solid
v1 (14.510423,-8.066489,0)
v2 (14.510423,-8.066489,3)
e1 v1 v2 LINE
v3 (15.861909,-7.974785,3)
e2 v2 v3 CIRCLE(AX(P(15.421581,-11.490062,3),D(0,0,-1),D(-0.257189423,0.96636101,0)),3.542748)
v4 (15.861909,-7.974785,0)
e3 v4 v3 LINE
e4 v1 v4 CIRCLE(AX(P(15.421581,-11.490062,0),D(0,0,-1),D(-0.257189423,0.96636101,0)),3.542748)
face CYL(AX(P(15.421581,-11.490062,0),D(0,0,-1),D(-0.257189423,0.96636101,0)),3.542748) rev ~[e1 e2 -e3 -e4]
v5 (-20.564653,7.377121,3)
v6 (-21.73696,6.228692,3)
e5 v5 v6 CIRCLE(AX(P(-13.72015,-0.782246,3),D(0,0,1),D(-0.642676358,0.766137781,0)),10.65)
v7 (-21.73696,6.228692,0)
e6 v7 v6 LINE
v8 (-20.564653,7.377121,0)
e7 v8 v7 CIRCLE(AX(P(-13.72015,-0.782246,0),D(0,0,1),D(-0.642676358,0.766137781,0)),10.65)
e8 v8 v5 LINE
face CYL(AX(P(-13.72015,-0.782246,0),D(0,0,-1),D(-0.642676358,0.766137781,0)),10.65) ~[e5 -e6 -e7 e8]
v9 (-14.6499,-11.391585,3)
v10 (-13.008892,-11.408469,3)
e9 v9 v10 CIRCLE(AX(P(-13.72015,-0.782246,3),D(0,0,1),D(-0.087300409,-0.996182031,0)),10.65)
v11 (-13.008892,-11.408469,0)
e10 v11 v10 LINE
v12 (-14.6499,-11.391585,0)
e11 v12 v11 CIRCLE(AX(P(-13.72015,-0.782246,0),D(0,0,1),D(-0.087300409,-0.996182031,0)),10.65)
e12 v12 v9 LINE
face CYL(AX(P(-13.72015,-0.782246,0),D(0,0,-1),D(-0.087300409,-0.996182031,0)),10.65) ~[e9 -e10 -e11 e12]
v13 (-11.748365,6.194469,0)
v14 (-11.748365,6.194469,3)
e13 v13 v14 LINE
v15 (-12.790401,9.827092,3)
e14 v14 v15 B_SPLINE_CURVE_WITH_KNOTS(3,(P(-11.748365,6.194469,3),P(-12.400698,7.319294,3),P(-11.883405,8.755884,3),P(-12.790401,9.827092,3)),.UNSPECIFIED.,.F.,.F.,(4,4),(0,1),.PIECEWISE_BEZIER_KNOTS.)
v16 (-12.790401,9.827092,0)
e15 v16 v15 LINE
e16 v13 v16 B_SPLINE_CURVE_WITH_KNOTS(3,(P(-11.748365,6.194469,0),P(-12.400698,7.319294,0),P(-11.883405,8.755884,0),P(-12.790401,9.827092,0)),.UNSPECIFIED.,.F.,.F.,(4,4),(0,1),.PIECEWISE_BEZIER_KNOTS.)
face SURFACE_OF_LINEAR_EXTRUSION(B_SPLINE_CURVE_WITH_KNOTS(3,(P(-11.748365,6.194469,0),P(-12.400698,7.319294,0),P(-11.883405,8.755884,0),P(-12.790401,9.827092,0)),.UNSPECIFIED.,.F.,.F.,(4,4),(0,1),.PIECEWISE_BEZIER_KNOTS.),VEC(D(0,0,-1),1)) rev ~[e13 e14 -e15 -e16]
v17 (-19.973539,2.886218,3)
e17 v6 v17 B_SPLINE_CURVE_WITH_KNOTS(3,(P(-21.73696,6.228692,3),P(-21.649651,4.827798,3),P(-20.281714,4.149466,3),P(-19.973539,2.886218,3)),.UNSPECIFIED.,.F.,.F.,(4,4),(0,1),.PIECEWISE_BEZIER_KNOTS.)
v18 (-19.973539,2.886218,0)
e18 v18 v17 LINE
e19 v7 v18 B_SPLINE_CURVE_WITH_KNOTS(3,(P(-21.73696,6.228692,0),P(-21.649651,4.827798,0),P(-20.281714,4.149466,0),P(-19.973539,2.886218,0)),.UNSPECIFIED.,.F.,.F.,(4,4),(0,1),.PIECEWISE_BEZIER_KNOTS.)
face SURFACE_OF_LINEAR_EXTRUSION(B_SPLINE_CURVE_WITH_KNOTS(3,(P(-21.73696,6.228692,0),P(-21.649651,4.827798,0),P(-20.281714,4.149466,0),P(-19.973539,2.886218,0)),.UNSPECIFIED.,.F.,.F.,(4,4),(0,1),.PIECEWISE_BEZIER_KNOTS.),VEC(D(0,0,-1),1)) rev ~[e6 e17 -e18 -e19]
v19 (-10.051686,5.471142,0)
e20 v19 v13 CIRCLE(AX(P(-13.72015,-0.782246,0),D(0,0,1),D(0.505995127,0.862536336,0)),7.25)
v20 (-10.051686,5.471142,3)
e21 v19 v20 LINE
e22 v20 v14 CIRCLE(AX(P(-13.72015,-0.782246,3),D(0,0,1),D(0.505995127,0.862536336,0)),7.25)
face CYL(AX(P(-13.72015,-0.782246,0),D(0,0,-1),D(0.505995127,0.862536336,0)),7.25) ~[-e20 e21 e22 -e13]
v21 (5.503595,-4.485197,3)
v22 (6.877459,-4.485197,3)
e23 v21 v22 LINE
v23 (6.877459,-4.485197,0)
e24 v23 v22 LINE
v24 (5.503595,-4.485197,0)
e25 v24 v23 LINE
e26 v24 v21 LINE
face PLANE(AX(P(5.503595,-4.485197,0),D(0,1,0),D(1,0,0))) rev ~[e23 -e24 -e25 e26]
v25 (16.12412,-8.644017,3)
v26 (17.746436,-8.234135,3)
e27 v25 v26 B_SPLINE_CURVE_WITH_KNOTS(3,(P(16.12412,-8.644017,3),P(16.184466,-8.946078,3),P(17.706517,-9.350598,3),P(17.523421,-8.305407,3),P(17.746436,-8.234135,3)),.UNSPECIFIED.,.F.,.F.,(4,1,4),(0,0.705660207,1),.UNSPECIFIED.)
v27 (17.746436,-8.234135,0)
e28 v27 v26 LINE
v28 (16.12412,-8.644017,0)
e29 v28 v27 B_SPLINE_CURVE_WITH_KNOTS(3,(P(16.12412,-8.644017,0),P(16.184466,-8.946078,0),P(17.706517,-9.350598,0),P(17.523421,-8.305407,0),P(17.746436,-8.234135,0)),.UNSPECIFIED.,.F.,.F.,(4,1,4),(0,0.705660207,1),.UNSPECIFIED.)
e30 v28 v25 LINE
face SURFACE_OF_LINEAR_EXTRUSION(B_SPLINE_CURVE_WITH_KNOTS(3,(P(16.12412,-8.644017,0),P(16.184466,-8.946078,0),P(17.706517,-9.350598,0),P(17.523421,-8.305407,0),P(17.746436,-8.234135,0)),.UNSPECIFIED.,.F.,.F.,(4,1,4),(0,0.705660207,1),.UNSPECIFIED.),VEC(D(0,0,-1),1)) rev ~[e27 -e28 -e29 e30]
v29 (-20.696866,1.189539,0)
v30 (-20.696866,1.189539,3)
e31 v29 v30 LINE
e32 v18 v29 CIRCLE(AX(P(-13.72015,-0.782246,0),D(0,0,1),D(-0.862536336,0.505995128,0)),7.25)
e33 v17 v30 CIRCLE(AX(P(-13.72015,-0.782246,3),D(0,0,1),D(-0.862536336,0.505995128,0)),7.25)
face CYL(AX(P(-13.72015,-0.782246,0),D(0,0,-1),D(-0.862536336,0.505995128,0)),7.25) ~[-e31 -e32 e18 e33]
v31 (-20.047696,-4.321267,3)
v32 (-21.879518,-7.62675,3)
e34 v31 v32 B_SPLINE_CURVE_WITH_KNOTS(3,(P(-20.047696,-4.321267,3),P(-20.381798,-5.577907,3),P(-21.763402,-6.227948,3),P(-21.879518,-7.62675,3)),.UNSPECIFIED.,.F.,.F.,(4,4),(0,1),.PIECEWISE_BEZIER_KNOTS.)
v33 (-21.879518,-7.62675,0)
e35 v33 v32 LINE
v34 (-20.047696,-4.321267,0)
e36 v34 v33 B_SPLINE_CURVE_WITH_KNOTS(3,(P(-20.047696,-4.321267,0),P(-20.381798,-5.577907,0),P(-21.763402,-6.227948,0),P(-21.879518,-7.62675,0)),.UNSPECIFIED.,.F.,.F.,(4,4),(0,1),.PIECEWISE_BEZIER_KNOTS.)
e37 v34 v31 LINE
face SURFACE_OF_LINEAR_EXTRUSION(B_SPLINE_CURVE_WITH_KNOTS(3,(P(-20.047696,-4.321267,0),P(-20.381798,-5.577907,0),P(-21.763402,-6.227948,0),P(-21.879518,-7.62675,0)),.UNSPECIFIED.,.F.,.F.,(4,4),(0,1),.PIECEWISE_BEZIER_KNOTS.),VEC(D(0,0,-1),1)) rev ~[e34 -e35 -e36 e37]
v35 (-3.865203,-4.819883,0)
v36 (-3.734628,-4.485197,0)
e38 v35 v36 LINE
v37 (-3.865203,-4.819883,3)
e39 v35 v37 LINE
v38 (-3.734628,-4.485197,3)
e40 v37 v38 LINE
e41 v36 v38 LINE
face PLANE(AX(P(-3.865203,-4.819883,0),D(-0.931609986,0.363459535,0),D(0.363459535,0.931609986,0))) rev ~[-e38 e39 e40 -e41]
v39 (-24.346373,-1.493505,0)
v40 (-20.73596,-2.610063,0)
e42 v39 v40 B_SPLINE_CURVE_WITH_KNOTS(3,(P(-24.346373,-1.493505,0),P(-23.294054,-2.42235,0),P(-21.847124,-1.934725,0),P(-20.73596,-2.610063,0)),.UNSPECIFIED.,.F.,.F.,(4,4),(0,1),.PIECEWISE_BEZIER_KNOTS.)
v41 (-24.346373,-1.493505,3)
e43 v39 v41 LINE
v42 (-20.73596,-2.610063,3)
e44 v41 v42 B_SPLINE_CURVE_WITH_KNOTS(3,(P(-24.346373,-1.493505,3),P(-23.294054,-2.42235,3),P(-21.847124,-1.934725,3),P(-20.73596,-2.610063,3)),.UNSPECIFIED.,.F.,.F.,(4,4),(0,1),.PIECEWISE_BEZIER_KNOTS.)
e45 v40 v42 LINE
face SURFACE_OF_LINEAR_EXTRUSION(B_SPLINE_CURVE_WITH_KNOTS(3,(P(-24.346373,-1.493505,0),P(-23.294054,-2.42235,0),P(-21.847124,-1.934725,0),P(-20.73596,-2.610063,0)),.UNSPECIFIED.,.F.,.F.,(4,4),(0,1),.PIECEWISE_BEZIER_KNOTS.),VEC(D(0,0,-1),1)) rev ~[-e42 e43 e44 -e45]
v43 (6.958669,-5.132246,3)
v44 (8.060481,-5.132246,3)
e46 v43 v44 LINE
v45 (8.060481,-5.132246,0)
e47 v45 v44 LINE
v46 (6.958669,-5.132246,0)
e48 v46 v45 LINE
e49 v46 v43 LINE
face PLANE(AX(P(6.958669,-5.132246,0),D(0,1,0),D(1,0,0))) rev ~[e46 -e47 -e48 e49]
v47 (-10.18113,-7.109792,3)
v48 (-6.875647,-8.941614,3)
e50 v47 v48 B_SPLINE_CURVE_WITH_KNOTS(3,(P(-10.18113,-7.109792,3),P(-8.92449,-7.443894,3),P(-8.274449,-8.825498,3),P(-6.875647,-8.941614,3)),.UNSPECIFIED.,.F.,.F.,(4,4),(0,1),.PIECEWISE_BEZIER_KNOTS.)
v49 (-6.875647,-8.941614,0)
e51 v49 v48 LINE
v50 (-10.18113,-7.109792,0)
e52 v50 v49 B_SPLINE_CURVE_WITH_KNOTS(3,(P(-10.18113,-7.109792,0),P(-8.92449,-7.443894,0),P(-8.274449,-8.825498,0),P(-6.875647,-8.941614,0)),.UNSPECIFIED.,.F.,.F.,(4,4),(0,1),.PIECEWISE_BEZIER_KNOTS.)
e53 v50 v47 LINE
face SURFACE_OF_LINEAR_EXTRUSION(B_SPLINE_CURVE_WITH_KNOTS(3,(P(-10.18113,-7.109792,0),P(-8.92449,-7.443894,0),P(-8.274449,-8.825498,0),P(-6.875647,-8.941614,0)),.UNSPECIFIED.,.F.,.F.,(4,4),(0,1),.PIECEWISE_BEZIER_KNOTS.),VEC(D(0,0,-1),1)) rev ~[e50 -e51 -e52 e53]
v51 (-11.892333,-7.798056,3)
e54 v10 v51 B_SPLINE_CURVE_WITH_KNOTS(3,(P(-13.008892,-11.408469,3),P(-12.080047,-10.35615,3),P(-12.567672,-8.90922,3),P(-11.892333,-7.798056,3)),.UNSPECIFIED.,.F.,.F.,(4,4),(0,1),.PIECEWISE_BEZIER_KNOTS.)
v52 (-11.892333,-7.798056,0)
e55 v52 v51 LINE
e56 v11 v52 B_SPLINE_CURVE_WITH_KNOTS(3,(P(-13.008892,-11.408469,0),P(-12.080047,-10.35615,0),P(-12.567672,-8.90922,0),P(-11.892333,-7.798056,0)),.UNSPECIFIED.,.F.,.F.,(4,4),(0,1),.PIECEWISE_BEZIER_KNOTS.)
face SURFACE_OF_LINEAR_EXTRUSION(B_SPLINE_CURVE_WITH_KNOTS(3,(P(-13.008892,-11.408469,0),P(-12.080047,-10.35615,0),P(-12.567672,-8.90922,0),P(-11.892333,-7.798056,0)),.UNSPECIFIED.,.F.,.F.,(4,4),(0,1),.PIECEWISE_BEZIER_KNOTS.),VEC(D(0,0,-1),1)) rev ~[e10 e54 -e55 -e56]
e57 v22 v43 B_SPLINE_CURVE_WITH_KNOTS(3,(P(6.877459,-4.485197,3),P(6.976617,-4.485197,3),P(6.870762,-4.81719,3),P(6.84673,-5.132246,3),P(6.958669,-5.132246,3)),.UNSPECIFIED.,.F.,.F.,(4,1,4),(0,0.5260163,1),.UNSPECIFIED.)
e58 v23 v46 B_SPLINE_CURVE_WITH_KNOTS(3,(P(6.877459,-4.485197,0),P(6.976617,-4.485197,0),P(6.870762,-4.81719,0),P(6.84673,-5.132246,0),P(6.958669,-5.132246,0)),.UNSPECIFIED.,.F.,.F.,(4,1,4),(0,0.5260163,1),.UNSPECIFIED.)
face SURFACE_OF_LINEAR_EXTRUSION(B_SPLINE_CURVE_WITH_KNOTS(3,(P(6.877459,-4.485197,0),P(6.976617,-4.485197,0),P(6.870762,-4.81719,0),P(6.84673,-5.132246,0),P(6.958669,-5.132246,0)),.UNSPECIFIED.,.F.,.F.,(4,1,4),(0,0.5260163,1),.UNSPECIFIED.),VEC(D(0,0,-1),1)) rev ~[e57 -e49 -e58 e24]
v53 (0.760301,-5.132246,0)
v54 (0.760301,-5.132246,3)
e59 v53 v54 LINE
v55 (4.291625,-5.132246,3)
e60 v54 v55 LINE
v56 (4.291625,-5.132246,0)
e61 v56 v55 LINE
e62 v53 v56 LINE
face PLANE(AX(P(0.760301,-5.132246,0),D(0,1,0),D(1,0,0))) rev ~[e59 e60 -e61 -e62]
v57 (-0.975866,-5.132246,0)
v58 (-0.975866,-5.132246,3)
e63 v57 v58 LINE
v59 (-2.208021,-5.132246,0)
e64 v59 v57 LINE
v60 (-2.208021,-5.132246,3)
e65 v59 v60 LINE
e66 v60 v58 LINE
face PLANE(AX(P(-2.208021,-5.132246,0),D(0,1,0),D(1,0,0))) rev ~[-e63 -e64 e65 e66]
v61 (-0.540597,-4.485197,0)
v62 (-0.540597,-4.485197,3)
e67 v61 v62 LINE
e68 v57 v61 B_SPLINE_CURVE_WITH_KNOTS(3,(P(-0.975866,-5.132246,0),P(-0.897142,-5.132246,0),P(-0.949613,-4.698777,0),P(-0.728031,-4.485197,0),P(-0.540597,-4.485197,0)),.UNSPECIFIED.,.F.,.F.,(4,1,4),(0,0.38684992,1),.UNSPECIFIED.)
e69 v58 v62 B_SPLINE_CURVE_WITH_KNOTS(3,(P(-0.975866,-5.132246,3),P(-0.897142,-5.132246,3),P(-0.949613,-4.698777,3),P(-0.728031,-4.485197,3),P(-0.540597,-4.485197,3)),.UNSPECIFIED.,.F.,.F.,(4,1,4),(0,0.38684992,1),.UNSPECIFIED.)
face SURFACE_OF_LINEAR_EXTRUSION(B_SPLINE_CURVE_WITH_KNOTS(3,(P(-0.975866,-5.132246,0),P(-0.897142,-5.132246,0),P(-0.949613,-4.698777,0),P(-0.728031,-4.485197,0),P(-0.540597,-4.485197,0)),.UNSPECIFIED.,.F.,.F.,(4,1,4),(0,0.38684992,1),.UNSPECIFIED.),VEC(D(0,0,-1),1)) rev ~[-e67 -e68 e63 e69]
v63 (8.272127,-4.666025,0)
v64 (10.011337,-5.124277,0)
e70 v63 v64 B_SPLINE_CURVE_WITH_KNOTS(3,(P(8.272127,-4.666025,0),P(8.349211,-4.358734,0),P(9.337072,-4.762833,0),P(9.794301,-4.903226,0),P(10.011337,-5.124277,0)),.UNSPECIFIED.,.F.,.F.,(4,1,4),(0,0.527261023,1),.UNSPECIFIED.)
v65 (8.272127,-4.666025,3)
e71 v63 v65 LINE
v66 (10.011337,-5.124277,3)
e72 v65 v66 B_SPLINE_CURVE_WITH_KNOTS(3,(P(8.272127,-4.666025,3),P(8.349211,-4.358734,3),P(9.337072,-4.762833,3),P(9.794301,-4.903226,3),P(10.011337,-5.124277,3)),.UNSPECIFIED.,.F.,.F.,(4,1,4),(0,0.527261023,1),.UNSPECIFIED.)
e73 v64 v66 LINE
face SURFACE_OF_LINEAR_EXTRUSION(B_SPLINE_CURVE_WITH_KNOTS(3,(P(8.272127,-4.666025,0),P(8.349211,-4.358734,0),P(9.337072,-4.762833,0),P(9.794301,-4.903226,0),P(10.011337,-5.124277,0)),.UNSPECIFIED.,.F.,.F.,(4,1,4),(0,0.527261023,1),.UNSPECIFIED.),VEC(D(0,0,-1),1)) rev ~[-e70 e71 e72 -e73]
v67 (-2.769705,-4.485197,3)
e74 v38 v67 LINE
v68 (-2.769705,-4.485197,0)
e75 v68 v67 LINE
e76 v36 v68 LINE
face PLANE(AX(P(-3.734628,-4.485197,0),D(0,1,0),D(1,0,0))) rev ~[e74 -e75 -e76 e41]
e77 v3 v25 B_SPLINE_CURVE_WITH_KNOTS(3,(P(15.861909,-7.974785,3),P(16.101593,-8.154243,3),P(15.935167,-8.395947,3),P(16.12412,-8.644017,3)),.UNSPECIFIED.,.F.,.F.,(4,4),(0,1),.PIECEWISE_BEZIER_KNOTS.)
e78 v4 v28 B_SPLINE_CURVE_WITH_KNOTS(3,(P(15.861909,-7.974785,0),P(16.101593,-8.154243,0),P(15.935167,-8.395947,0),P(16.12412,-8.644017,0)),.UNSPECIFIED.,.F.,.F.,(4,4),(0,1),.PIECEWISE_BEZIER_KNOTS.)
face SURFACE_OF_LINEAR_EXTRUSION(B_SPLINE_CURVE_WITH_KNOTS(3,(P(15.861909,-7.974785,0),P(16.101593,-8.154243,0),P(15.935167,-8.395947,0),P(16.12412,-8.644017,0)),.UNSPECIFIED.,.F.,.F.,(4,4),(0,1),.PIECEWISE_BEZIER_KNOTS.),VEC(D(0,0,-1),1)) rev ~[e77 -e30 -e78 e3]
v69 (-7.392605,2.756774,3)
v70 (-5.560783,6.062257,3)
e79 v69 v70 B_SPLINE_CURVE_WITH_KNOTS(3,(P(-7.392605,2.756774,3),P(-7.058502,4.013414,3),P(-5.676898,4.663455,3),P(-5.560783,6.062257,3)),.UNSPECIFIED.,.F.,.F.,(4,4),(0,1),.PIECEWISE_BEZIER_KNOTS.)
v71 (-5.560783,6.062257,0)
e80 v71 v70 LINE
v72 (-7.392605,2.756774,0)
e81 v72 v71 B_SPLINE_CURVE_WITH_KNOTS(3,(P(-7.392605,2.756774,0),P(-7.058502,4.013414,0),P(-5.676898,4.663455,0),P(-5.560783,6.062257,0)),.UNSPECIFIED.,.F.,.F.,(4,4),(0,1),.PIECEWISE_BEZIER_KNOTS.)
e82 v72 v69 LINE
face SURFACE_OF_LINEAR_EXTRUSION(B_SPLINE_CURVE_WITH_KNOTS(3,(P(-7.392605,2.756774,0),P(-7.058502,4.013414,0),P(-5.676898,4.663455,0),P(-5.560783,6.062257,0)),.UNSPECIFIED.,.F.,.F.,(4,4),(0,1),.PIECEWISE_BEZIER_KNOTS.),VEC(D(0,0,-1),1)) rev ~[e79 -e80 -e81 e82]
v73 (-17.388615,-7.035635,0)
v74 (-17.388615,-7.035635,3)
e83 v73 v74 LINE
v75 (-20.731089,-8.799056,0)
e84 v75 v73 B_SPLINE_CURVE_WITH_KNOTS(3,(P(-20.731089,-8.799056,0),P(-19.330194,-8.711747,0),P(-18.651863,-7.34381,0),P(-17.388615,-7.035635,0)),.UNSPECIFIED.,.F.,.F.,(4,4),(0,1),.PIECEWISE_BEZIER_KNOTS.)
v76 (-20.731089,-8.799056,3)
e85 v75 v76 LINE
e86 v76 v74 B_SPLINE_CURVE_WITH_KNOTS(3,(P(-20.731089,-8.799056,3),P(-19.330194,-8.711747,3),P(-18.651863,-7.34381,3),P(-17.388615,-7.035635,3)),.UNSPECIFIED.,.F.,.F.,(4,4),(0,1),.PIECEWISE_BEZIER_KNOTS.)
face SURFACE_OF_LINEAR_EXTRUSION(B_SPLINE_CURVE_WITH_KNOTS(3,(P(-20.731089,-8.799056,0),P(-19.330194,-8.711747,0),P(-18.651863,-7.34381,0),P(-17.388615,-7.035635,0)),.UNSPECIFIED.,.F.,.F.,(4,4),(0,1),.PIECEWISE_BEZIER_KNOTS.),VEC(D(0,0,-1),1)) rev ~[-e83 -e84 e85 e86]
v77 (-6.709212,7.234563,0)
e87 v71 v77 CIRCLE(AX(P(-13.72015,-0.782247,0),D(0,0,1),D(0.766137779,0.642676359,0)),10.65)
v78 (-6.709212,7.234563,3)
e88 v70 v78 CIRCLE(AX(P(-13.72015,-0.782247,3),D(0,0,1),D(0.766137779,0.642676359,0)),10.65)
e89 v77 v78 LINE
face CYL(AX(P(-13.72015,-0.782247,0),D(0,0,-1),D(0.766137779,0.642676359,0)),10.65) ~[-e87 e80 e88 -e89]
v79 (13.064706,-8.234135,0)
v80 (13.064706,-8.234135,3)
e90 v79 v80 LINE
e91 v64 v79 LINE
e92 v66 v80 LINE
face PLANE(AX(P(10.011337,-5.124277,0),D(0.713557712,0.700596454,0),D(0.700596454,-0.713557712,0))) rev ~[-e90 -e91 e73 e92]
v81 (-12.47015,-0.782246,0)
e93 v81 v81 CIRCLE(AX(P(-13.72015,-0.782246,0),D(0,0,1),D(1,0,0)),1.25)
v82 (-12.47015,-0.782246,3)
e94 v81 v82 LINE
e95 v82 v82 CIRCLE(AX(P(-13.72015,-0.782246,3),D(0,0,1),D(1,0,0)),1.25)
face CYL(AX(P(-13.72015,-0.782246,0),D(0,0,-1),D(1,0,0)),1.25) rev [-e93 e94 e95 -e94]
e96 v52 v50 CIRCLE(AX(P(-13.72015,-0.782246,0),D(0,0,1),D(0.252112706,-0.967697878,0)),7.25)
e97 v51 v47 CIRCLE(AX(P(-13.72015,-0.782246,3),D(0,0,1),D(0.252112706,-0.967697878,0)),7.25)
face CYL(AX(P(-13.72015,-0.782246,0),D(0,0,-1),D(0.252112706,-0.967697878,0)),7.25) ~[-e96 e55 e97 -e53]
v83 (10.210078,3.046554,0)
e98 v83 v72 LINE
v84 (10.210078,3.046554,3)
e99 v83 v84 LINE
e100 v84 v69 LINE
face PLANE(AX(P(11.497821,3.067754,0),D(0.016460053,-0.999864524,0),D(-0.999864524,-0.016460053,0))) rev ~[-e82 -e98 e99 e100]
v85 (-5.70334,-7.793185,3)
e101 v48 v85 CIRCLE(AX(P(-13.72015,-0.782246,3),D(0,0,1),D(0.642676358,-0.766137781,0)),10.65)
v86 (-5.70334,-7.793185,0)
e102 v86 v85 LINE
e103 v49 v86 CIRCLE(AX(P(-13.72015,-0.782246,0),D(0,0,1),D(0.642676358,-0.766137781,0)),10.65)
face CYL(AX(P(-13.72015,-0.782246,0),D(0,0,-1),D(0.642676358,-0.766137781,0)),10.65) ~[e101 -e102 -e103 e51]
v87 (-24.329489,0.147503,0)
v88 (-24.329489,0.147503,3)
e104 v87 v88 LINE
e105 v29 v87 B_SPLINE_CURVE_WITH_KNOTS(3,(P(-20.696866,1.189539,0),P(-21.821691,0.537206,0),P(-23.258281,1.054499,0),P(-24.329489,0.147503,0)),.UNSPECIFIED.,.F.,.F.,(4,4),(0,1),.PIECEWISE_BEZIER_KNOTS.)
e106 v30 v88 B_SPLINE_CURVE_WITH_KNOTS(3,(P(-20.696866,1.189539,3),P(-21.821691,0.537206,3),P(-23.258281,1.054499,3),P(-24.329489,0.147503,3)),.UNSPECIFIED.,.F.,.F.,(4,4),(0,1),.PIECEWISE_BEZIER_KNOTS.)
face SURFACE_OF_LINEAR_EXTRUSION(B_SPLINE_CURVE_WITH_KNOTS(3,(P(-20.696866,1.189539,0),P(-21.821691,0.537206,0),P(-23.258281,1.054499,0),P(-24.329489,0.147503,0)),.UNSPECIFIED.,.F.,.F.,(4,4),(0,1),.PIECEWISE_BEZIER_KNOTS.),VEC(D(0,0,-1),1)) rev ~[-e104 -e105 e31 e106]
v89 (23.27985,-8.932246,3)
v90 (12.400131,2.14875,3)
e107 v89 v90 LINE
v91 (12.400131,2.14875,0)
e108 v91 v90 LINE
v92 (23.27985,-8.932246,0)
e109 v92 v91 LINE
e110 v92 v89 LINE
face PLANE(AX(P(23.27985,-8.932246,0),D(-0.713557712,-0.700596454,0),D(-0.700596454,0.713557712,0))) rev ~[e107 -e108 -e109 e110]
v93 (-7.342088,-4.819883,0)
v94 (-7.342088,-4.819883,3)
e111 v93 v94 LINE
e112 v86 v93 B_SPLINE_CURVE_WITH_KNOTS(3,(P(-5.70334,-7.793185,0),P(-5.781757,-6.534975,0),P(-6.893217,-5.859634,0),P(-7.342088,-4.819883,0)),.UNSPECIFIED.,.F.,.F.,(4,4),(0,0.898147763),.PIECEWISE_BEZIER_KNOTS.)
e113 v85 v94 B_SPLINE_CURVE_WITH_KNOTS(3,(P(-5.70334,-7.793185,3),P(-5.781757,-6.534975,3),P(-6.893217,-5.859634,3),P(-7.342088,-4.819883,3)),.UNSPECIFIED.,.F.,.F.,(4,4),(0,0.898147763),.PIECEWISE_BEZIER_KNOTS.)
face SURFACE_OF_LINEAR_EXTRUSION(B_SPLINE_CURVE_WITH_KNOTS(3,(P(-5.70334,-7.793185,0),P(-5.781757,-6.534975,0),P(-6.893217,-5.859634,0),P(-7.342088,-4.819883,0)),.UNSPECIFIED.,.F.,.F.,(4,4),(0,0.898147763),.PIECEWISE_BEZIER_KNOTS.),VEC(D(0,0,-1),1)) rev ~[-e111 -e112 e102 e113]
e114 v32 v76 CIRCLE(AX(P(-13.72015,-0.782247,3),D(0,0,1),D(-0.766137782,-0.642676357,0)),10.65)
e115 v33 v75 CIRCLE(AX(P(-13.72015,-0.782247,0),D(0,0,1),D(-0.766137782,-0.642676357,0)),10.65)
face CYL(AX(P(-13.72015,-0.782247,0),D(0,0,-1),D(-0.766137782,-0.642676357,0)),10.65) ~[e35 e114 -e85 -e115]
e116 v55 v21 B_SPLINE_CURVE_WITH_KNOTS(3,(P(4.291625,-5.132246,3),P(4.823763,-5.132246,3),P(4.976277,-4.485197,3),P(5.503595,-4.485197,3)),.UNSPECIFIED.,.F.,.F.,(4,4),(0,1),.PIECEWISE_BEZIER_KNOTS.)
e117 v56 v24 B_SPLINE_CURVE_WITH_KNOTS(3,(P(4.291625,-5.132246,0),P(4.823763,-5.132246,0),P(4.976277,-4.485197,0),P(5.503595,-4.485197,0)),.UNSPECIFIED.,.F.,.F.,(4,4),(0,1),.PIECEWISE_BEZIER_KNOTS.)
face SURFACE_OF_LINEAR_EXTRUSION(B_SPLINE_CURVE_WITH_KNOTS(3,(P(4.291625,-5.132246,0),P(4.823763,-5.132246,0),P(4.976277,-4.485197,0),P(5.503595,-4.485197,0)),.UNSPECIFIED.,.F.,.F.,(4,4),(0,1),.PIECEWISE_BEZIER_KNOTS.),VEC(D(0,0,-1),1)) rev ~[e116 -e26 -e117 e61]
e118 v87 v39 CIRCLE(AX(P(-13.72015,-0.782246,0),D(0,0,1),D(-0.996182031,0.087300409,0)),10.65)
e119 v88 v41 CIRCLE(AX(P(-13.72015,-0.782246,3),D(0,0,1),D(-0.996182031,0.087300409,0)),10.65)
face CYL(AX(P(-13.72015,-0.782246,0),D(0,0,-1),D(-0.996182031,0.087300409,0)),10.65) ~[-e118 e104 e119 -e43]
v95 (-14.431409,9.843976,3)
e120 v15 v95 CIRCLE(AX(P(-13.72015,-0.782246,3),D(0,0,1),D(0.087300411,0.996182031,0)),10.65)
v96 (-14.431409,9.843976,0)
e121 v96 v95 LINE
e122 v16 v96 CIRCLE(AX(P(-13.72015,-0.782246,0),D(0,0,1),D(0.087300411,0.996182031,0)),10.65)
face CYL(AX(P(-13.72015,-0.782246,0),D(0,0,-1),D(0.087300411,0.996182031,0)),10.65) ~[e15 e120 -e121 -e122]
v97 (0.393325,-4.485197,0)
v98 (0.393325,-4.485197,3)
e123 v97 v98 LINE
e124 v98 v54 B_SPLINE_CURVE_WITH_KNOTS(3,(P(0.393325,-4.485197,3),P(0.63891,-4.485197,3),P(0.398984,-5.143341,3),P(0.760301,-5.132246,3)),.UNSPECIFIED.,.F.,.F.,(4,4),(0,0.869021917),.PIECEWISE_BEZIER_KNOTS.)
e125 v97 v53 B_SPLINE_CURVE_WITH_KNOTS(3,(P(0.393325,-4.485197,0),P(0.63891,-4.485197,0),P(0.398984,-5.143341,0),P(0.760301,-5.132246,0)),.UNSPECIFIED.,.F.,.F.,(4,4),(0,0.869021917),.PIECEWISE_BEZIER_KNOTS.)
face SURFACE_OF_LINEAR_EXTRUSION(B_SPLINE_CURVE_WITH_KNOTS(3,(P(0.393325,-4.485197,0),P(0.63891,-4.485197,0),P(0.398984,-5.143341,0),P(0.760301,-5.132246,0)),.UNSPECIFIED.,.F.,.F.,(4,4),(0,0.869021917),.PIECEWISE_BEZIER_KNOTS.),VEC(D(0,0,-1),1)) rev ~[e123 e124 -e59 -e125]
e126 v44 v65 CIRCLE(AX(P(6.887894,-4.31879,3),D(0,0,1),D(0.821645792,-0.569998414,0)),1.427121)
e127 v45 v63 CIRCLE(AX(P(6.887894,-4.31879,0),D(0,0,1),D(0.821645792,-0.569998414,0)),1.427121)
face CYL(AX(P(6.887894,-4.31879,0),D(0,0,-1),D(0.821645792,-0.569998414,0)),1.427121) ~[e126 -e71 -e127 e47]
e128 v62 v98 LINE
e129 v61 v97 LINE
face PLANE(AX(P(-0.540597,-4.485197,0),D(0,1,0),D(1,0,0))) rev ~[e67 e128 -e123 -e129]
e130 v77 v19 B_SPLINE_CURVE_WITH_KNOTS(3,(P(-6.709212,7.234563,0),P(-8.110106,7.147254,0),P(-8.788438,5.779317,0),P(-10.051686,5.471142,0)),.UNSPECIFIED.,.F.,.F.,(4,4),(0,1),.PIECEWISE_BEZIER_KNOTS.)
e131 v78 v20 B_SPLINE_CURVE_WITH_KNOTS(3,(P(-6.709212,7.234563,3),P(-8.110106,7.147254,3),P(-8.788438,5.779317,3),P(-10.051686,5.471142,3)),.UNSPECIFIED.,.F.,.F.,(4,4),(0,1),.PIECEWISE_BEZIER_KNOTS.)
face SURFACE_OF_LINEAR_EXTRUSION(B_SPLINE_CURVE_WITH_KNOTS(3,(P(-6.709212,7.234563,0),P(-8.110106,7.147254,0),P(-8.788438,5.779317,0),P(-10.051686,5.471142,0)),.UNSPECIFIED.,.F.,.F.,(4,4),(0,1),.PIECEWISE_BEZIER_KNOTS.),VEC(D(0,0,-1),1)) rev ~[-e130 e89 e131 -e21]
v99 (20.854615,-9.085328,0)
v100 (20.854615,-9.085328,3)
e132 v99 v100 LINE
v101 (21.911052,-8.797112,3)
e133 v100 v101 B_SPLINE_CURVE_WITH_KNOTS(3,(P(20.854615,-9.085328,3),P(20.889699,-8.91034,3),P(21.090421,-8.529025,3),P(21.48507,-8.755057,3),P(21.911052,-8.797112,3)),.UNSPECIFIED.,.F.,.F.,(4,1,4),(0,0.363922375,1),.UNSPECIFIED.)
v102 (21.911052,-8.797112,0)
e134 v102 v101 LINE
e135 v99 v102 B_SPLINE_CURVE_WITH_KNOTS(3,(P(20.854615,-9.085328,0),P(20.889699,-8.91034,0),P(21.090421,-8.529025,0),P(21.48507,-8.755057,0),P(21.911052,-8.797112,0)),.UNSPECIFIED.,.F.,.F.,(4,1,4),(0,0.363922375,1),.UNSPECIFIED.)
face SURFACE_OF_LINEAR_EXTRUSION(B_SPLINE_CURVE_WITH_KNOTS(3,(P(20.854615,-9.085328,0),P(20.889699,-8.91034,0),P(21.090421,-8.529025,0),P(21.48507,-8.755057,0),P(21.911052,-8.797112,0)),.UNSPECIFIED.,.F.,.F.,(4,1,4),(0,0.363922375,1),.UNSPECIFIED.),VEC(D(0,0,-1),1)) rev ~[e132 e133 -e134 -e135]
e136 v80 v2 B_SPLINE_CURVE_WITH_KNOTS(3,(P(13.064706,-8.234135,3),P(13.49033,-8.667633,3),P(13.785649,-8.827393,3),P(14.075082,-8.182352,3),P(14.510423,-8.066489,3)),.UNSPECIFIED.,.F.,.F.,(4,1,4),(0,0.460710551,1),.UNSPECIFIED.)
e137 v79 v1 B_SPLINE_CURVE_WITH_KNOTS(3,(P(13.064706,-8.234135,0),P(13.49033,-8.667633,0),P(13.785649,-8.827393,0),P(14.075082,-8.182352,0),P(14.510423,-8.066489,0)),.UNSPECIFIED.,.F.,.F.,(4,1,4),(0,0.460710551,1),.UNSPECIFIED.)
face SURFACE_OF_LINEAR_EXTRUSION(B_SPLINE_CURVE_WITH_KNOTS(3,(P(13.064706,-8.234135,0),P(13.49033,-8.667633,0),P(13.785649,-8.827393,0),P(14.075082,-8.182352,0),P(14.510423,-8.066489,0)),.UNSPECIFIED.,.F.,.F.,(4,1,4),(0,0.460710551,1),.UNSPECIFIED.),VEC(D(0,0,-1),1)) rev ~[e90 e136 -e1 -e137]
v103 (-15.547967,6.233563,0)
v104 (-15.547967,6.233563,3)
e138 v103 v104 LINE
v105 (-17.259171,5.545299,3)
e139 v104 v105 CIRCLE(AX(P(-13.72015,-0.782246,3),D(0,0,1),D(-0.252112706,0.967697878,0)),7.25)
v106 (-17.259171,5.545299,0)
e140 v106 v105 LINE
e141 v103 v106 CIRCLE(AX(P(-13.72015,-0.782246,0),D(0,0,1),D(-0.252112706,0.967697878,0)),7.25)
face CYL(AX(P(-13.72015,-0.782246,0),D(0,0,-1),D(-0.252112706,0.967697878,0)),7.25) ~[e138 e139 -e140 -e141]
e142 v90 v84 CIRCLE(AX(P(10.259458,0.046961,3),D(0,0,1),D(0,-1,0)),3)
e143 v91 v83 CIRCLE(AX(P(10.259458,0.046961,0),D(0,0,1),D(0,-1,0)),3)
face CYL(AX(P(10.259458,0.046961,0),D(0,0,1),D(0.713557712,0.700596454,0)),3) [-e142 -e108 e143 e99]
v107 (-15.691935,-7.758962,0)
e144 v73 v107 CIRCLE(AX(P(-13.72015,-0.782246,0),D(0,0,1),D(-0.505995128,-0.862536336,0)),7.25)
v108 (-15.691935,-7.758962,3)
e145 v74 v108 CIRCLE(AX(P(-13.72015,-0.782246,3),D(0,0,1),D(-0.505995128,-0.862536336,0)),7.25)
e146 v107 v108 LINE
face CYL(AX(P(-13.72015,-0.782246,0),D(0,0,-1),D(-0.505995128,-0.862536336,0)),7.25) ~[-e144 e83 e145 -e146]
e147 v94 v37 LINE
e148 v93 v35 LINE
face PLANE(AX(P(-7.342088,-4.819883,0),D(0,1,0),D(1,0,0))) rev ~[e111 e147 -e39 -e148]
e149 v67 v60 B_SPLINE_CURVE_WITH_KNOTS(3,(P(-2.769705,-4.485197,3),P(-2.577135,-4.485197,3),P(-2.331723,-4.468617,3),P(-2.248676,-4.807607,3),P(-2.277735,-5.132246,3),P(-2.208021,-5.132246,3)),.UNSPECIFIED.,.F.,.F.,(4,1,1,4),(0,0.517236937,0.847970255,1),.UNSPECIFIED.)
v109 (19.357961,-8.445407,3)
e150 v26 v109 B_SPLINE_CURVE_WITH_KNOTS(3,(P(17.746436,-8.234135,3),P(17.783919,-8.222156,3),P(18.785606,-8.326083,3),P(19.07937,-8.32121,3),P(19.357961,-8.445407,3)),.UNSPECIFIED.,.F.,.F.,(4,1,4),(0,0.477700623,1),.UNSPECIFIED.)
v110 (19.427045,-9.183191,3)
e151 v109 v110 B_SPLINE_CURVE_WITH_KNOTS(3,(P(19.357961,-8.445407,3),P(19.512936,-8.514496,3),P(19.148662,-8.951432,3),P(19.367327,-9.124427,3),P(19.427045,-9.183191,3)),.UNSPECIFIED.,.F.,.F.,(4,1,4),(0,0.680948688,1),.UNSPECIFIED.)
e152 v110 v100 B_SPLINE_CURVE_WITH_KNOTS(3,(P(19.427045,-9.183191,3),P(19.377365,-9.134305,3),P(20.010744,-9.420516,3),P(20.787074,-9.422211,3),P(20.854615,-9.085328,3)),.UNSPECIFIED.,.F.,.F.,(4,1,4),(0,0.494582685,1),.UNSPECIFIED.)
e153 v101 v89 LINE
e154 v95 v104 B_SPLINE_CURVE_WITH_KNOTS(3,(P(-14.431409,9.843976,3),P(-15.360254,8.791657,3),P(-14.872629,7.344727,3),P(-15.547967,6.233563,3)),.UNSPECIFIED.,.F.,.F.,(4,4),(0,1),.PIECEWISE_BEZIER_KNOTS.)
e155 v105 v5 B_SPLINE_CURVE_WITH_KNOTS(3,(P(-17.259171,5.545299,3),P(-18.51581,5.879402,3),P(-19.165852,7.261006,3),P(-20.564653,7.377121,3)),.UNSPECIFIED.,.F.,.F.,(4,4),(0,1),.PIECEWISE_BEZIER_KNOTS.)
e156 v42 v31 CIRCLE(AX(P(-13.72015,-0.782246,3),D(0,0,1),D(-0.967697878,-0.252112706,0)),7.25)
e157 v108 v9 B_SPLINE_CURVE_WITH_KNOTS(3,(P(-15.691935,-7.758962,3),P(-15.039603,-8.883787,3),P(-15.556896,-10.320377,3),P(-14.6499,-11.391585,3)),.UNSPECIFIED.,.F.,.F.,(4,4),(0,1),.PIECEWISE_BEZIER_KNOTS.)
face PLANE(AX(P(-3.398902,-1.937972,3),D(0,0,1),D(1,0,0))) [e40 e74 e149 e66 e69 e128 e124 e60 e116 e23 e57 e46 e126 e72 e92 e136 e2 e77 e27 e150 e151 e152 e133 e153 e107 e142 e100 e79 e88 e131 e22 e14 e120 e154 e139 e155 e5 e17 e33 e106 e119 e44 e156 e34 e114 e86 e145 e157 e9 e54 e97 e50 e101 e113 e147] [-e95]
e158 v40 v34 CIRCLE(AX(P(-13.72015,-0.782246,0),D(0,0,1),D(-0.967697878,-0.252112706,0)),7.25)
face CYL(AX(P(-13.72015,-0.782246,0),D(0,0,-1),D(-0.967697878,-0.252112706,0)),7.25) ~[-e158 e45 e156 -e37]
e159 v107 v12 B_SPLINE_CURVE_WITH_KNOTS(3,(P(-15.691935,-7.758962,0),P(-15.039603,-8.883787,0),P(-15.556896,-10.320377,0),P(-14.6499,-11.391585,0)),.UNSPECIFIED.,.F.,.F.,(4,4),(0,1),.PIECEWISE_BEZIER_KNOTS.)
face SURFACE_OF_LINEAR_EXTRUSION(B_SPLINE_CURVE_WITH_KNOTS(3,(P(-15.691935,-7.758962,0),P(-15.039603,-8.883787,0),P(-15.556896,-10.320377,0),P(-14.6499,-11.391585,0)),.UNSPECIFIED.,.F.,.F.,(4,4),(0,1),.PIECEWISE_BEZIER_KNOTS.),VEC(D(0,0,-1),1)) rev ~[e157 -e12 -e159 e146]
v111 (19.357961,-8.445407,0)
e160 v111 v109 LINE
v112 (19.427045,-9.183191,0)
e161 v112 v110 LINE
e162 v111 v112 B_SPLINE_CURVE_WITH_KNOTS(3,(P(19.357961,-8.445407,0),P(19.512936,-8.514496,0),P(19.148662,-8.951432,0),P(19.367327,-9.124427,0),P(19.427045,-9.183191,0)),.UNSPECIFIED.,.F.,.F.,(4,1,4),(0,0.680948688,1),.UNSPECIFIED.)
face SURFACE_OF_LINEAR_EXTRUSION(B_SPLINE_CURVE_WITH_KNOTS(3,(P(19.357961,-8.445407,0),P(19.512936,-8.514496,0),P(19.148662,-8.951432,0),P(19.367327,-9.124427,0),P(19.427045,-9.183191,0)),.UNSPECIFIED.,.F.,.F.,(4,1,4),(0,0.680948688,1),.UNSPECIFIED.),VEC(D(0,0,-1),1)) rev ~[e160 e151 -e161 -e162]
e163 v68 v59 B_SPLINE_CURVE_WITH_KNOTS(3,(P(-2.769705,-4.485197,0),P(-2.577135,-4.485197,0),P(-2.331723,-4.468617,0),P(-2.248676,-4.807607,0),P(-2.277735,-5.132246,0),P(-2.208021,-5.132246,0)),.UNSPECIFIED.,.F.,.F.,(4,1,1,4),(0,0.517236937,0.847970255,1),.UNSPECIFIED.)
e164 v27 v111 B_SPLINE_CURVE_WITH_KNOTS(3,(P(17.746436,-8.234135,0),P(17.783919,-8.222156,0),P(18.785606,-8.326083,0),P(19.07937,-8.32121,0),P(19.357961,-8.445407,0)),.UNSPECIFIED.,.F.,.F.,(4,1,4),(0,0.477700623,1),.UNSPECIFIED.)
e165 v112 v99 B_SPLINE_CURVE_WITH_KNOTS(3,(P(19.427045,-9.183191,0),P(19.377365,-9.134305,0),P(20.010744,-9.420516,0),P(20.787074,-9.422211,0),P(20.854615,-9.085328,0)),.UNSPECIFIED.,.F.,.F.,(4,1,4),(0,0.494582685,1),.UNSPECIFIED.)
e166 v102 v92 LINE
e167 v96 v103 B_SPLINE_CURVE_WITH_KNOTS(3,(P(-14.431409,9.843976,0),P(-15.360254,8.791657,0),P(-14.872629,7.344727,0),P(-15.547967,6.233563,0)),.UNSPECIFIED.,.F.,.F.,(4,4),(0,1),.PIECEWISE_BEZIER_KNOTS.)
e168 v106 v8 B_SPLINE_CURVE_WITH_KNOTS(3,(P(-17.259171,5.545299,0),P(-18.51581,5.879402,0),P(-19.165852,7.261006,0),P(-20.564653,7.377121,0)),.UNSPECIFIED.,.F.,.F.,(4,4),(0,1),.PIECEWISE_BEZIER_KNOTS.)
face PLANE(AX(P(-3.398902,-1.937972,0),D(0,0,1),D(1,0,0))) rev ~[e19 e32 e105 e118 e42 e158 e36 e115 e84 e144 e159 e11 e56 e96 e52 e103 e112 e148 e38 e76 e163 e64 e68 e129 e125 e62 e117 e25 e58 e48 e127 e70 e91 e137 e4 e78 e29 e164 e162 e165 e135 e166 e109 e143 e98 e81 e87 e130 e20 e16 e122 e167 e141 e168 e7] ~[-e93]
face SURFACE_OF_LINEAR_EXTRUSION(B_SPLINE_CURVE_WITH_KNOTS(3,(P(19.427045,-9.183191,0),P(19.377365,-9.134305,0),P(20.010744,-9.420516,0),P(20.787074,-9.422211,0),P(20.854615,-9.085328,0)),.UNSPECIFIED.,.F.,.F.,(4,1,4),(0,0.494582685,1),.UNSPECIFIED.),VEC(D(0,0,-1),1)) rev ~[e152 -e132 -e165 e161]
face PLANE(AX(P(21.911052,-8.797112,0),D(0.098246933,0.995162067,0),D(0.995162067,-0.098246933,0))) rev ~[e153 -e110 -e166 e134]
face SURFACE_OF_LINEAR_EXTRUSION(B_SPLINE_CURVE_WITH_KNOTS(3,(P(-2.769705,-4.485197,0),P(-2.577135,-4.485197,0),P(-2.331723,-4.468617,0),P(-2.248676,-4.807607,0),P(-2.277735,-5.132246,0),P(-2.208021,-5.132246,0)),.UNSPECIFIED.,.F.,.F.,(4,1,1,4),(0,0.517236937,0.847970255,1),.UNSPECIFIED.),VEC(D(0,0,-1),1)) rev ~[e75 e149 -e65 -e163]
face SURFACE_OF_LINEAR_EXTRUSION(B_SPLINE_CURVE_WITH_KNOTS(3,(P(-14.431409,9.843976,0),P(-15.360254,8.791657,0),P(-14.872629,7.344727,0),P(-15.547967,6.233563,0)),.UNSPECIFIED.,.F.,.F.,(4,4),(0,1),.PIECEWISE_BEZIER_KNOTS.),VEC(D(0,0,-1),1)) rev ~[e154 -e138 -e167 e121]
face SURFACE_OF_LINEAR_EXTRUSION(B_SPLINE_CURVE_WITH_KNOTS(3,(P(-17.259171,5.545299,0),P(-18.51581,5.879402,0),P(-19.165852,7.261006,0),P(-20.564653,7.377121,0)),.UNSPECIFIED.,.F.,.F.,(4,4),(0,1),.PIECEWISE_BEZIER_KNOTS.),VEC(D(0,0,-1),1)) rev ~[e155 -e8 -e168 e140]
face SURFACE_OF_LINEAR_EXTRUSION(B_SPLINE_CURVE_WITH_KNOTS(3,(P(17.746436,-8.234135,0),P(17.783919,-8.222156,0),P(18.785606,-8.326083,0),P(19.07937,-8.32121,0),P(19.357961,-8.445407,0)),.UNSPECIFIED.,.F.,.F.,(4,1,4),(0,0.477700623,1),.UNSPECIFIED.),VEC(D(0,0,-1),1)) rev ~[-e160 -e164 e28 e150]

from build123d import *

# Parameters (mm, degrees)
ESQUISSE1_R        = 1.25
BOSS_EXTRU_1_DEPTH = 3
CONG_1_R           = 3


with BuildPart() as part:
    # Esquisse1 → Boss.-Extru.1 (new body)
    with BuildSketch(Plane.XY):
        with BuildLine():
            Line((-3.734627807, -4.485196705), (-2.769705324, -4.485196705))
            add(Edge.make_bspline(
                [(-2.769705324, -4.485196705), (-2.57713545, -4.485196705), (-2.331722683, -4.468616958), (-2.248675506, -4.80760679), (-2.277734979, -5.132246378), (-2.208021331, -5.132246378)],
                knots=[0, 0, 0, 0, 0.517236937, 0.847970255, 1, 1, 1, 1], degree=3))
            Line((-2.208021331, -5.132246378), (-0.975866285, -5.132246378))
            add(Edge.make_bspline(
                [(-0.975866285, -5.132246378), (-0.897142439, -5.132246378), (-0.949613424, -4.698776801), (-0.728030816, -4.485196705), (-0.540596518, -4.485196705)],
                knots=[0, 0, 0, 0, 0.38684992, 1, 1, 1, 1], degree=3))
            Line((-0.540596518, -4.485196705), (0.393324576, -4.485196705))
            add(Edge.make_bspline(
                [(0.393324576, -4.485196705), (0.638910479, -4.485196705), (0.398984004, -5.143340875), (0.7603007, -5.132246378)],
                knots=[0, 0, 0, 0, 0.869021917, 0.869021917, 0.869021917, 0.869021917], degree=3))
            Line((0.7603007, -5.132246378), (4.291625391, -5.132246378))
            add(Edge.make_bspline(
                [(4.291625391, -5.132246378), (4.823763212, -5.132246378), (4.976277419, -4.485196705), (5.503594727, -4.485196705)],
                knots=[0, 0, 0, 0, 1, 1, 1, 1], degree=3))
            Line((5.503594727, -4.485196705), (6.877458786, -4.485196705))
            add(Edge.make_bspline(
                [(6.877458786, -4.485196705), (6.976617296, -4.485196705), (6.870761733, -4.817189959), (6.846729617, -5.132246378), (6.958669178, -5.132246378)],
                knots=[0, 0, 0, 0, 0.5260163, 1, 1, 1, 1], degree=3))
            Line((6.958669178, -5.132246378), (8.060481342, -5.132246378))
            ThreePointArc((8.060481342, -5.132246378), (8.187383408, -4.908704908), (8.272126679, -4.666025076))
            add(Edge.make_bspline(
                [(8.272126679, -4.666025076), (8.349210597, -4.35873446), (9.337071659, -4.762833371), (9.794300685, -4.903225807), (10.011337039, -5.124277403)],
                knots=[0, 0, 0, 0, 0.527261023, 1, 1, 1, 1], degree=3))
            Line((10.011337039, -5.124277403), (13.064705998, -8.234134663))
            add(Edge.make_bspline(
                [(13.064705998, -8.234134663), (13.490330286, -8.667633137), (13.785649393, -8.827393259), (14.075081613, -8.182351509), (14.510423485, -8.066488675)],
                knots=[0, 0, 0, 0, 0.460710551, 1, 1, 1, 1], degree=3))
            ThreePointArc((14.510423485, -8.066488675), (15.18174267, -7.955441853), (15.861909333, -7.974784957))
            add(Edge.make_bspline(
                [(15.861909333, -7.974784957), (16.10159294, -8.154242616), (15.935166999, -8.395947295), (16.124120253, -8.644016897)],
                knots=[0, 0, 0, 0, 1, 1, 1, 1], degree=3))
            add(Edge.make_bspline(
                [(16.124120253, -8.644016897), (16.184465972, -8.946078243), (17.706516579, -9.350598436), (17.523421123, -8.305406598), (17.746436003, -8.234134662)],
                knots=[0, 0, 0, 0, 0.705660207, 1, 1, 1, 1], degree=3))
            add(Edge.make_bspline(
                [(17.746436003, -8.234134662), (17.783919067, -8.222155683), (18.785606441, -8.326082656), (19.079369937, -8.321210362), (19.357960566, -8.445407054)],
                knots=[0, 0, 0, 0, 0.477700623, 1, 1, 1, 1], degree=3))
            add(Edge.make_bspline(
                [(19.357960566, -8.445407054), (19.512936477, -8.514495866), (19.148661951, -8.951431635), (19.367327137, -9.124426979), (19.427044979, -9.183191482)],
                knots=[0, 0, 0, 0, 0.680948688, 1, 1, 1, 1], degree=3))
            add(Edge.make_bspline(
                [(19.427044979, -9.183191482), (19.377364949, -9.134304547), (20.010743736, -9.420516174), (20.787073768, -9.422210975), (20.854615402, -9.085328222)],
                knots=[0, 0, 0, 0, 0.494582685, 1, 1, 1, 1], degree=3))
            add(Edge.make_bspline(
                [(20.854615402, -9.085328222), (20.889698828, -8.91033984), (21.090420582, -8.529024737), (21.485069525, -8.7550575), (21.911052326, -8.797112462)],
                knots=[0, 0, 0, 0, 0.363922375, 1, 1, 1, 1], degree=3))
            Line((21.911052326, -8.797112462), (23.279849729, -8.932246377))
            Line((23.279849729, -8.932246377), (11.497821027, 3.067753623))
            Line((11.497821027, 3.067753623), (-7.392604605, 2.756774088))
            add(Edge.make_bspline(
                [(-7.392604605, 2.756774088), (-7.058502345, 4.013413813), (-5.676898196, 4.66345538), (-5.560782906, 6.062256835)],
                knots=[0, 0, 0, 0, 1, 1, 1, 1], degree=3))
            ThreePointArc((-5.560782906, 6.062256835), (-6.112383098, 6.67056374), (-6.709211686, 7.234563473))
            add(Edge.make_bspline(
                [(-6.709211686, 7.234563473), (-8.110106161, 7.147254026), (-8.78843753, 5.779317398), (-10.051685597, 5.47114206)],
                knots=[0, 0, 0, 0, 1, 1, 1, 1], degree=3))
            ThreePointArc((-10.051685597, 5.47114206), (-10.876929396, 5.886981094), (-11.748365191, 6.194469441))
            add(Edge.make_bspline(
                [(-11.748365191, 6.194469441), (-12.400697689, 7.319293885), (-11.883404826, 8.755884348), (-12.790400912, 9.827092251)],
                knots=[0, 0, 0, 0, 1, 1, 1, 1], degree=3))
            ThreePointArc((-12.790400912, 9.827092251), (-13.610579085, 9.867189954), (-14.431408663, 9.843976447))
            add(Edge.make_bspline(
                [(-14.431408663, 9.843976447), (-15.360253545, 8.791657362), (-14.872628989, 7.344727385), (-15.547967393, 6.233563239)],
                knots=[0, 0, 0, 0, 1, 1, 1, 1], degree=3))
            ThreePointArc((-15.547967393, 6.233563239), (-16.42554548, 5.944070354), (-17.259170735, 5.545299289))
            add(Edge.make_bspline(
                [(-17.259170735, 5.545299289), (-18.51581046, 5.879401549), (-19.165852027, 7.261005698), (-20.564653482, 7.377120988)],
                knots=[0, 0, 0, 0, 1, 1, 1, 1], degree=3))
            ThreePointArc((-20.564653482, 7.377120988), (-21.172960388, 6.825520796), (-21.73696012, 6.228692208))
            add(Edge.make_bspline(
                [(-21.73696012, 6.228692208), (-21.649650674, 4.827797732), (-20.281714046, 4.149466364), (-19.973538707, 2.886218296)],
                knots=[0, 0, 0, 0, 1, 1, 1, 1], degree=3))
            ThreePointArc((-19.973538707, 2.886218296), (-20.389377741, 2.060974498), (-20.696866088, 1.189538702))
            add(Edge.make_bspline(
                [(-20.696866088, 1.189538702), (-21.821690533, 0.537206205), (-23.258280996, 1.054499067), (-24.329488899, 0.147502982)],
                knots=[0, 0, 0, 0, 1, 1, 1, 1], degree=3))
            ThreePointArc((-24.329488899, 0.147502982), (-24.369586601, -0.672675192), (-24.346373094, -1.493504769))
            add(Edge.make_bspline(
                [(-24.346373094, -1.493504769), (-23.29405401, -2.422349651), (-21.847124033, -1.934725096), (-20.735959887, -2.610063499)],
                knots=[0, 0, 0, 0, 1, 1, 1, 1], degree=3))
            ThreePointArc((-20.735959887, -2.610063499), (-20.446467002, -3.487641586), (-20.047695936, -4.321266841))
            add(Edge.make_bspline(
                [(-20.047695936, -4.321266841), (-20.381798196, -5.577906566), (-21.763402345, -6.227948133), (-21.879517635, -7.626749588)],
                knots=[0, 0, 0, 0, 1, 1, 1, 1], degree=3))
            ThreePointArc((-21.879517635, -7.626749588), (-21.327917444, -8.235056494), (-20.731088855, -8.799056226))
            add(Edge.make_bspline(
                [(-20.731088855, -8.799056226), (-19.33019438, -8.71174678), (-18.651863011, -7.343810152), (-17.388614944, -7.035634814)],
                knots=[0, 0, 0, 0, 1, 1, 1, 1], degree=3))
            ThreePointArc((-17.388614944, -7.035634814), (-16.563371146, -7.451473848), (-15.69193535, -7.758962195))
            add(Edge.make_bspline(
                [(-15.69193535, -7.758962195), (-15.039602853, -8.883786639), (-15.556895715, -10.320377102), (-14.64989963, -11.391585005)],
                knots=[0, 0, 0, 0, 1, 1, 1, 1], degree=3))
            ThreePointArc((-14.64989963, -11.391585005), (-13.829721456, -11.431682707), (-13.008891878, -11.408469201))
            add(Edge.make_bspline(
                [(-13.008891878, -11.408469201), (-12.080046997, -10.356150116), (-12.567671552, -8.909220139), (-11.892333149, -7.798055993)],
                knots=[0, 0, 0, 0, 1, 1, 1, 1], degree=3))
            ThreePointArc((-11.892333149, -7.798055993), (-11.014755062, -7.508563108), (-10.181129806, -7.109792043))
            add(Edge.make_bspline(
                [(-10.181129806, -7.109792043), (-8.924490081, -7.443894302), (-8.274448514, -8.825498451), (-6.875647059, -8.941613741)],
                knots=[0, 0, 0, 0, 1, 1, 1, 1], degree=3))
            ThreePointArc((-6.875647059, -8.941613741), (-6.267340154, -8.39001355), (-5.703340421, -7.793184961))
            add(Edge.make_bspline(
                [(-5.703340421, -7.793184961), (-5.781757205, -6.534974722), (-6.893216754, -5.859634034), (-7.342088148, -4.819882898)],
                knots=[0, 0, 0, 0, 0.898147763, 0.898147763, 0.898147763, 0.898147763], degree=3))
            Line((-7.342088148, -4.819882898), (-3.865202715, -4.819882898))
            Line((-3.865202715, -4.819882898), (-3.734627807, -4.485196705))
        make_face()
        with Locations((-13.720150271, -0.782246377)):
            Circle(ESQUISSE1_R, mode=Mode.SUBTRACT)
    extrude(amount=BOSS_EXTRU_1_DEPTH)

    # Congé1
    cong_1_edges = [part.edges().sort_by_distance(p)[0] for p in [
        (11.497821027, 3.067753623, 1.5),
    ]]
    fillet(cong_1_edges, radius=CONG_1_R)


solid = part.part
